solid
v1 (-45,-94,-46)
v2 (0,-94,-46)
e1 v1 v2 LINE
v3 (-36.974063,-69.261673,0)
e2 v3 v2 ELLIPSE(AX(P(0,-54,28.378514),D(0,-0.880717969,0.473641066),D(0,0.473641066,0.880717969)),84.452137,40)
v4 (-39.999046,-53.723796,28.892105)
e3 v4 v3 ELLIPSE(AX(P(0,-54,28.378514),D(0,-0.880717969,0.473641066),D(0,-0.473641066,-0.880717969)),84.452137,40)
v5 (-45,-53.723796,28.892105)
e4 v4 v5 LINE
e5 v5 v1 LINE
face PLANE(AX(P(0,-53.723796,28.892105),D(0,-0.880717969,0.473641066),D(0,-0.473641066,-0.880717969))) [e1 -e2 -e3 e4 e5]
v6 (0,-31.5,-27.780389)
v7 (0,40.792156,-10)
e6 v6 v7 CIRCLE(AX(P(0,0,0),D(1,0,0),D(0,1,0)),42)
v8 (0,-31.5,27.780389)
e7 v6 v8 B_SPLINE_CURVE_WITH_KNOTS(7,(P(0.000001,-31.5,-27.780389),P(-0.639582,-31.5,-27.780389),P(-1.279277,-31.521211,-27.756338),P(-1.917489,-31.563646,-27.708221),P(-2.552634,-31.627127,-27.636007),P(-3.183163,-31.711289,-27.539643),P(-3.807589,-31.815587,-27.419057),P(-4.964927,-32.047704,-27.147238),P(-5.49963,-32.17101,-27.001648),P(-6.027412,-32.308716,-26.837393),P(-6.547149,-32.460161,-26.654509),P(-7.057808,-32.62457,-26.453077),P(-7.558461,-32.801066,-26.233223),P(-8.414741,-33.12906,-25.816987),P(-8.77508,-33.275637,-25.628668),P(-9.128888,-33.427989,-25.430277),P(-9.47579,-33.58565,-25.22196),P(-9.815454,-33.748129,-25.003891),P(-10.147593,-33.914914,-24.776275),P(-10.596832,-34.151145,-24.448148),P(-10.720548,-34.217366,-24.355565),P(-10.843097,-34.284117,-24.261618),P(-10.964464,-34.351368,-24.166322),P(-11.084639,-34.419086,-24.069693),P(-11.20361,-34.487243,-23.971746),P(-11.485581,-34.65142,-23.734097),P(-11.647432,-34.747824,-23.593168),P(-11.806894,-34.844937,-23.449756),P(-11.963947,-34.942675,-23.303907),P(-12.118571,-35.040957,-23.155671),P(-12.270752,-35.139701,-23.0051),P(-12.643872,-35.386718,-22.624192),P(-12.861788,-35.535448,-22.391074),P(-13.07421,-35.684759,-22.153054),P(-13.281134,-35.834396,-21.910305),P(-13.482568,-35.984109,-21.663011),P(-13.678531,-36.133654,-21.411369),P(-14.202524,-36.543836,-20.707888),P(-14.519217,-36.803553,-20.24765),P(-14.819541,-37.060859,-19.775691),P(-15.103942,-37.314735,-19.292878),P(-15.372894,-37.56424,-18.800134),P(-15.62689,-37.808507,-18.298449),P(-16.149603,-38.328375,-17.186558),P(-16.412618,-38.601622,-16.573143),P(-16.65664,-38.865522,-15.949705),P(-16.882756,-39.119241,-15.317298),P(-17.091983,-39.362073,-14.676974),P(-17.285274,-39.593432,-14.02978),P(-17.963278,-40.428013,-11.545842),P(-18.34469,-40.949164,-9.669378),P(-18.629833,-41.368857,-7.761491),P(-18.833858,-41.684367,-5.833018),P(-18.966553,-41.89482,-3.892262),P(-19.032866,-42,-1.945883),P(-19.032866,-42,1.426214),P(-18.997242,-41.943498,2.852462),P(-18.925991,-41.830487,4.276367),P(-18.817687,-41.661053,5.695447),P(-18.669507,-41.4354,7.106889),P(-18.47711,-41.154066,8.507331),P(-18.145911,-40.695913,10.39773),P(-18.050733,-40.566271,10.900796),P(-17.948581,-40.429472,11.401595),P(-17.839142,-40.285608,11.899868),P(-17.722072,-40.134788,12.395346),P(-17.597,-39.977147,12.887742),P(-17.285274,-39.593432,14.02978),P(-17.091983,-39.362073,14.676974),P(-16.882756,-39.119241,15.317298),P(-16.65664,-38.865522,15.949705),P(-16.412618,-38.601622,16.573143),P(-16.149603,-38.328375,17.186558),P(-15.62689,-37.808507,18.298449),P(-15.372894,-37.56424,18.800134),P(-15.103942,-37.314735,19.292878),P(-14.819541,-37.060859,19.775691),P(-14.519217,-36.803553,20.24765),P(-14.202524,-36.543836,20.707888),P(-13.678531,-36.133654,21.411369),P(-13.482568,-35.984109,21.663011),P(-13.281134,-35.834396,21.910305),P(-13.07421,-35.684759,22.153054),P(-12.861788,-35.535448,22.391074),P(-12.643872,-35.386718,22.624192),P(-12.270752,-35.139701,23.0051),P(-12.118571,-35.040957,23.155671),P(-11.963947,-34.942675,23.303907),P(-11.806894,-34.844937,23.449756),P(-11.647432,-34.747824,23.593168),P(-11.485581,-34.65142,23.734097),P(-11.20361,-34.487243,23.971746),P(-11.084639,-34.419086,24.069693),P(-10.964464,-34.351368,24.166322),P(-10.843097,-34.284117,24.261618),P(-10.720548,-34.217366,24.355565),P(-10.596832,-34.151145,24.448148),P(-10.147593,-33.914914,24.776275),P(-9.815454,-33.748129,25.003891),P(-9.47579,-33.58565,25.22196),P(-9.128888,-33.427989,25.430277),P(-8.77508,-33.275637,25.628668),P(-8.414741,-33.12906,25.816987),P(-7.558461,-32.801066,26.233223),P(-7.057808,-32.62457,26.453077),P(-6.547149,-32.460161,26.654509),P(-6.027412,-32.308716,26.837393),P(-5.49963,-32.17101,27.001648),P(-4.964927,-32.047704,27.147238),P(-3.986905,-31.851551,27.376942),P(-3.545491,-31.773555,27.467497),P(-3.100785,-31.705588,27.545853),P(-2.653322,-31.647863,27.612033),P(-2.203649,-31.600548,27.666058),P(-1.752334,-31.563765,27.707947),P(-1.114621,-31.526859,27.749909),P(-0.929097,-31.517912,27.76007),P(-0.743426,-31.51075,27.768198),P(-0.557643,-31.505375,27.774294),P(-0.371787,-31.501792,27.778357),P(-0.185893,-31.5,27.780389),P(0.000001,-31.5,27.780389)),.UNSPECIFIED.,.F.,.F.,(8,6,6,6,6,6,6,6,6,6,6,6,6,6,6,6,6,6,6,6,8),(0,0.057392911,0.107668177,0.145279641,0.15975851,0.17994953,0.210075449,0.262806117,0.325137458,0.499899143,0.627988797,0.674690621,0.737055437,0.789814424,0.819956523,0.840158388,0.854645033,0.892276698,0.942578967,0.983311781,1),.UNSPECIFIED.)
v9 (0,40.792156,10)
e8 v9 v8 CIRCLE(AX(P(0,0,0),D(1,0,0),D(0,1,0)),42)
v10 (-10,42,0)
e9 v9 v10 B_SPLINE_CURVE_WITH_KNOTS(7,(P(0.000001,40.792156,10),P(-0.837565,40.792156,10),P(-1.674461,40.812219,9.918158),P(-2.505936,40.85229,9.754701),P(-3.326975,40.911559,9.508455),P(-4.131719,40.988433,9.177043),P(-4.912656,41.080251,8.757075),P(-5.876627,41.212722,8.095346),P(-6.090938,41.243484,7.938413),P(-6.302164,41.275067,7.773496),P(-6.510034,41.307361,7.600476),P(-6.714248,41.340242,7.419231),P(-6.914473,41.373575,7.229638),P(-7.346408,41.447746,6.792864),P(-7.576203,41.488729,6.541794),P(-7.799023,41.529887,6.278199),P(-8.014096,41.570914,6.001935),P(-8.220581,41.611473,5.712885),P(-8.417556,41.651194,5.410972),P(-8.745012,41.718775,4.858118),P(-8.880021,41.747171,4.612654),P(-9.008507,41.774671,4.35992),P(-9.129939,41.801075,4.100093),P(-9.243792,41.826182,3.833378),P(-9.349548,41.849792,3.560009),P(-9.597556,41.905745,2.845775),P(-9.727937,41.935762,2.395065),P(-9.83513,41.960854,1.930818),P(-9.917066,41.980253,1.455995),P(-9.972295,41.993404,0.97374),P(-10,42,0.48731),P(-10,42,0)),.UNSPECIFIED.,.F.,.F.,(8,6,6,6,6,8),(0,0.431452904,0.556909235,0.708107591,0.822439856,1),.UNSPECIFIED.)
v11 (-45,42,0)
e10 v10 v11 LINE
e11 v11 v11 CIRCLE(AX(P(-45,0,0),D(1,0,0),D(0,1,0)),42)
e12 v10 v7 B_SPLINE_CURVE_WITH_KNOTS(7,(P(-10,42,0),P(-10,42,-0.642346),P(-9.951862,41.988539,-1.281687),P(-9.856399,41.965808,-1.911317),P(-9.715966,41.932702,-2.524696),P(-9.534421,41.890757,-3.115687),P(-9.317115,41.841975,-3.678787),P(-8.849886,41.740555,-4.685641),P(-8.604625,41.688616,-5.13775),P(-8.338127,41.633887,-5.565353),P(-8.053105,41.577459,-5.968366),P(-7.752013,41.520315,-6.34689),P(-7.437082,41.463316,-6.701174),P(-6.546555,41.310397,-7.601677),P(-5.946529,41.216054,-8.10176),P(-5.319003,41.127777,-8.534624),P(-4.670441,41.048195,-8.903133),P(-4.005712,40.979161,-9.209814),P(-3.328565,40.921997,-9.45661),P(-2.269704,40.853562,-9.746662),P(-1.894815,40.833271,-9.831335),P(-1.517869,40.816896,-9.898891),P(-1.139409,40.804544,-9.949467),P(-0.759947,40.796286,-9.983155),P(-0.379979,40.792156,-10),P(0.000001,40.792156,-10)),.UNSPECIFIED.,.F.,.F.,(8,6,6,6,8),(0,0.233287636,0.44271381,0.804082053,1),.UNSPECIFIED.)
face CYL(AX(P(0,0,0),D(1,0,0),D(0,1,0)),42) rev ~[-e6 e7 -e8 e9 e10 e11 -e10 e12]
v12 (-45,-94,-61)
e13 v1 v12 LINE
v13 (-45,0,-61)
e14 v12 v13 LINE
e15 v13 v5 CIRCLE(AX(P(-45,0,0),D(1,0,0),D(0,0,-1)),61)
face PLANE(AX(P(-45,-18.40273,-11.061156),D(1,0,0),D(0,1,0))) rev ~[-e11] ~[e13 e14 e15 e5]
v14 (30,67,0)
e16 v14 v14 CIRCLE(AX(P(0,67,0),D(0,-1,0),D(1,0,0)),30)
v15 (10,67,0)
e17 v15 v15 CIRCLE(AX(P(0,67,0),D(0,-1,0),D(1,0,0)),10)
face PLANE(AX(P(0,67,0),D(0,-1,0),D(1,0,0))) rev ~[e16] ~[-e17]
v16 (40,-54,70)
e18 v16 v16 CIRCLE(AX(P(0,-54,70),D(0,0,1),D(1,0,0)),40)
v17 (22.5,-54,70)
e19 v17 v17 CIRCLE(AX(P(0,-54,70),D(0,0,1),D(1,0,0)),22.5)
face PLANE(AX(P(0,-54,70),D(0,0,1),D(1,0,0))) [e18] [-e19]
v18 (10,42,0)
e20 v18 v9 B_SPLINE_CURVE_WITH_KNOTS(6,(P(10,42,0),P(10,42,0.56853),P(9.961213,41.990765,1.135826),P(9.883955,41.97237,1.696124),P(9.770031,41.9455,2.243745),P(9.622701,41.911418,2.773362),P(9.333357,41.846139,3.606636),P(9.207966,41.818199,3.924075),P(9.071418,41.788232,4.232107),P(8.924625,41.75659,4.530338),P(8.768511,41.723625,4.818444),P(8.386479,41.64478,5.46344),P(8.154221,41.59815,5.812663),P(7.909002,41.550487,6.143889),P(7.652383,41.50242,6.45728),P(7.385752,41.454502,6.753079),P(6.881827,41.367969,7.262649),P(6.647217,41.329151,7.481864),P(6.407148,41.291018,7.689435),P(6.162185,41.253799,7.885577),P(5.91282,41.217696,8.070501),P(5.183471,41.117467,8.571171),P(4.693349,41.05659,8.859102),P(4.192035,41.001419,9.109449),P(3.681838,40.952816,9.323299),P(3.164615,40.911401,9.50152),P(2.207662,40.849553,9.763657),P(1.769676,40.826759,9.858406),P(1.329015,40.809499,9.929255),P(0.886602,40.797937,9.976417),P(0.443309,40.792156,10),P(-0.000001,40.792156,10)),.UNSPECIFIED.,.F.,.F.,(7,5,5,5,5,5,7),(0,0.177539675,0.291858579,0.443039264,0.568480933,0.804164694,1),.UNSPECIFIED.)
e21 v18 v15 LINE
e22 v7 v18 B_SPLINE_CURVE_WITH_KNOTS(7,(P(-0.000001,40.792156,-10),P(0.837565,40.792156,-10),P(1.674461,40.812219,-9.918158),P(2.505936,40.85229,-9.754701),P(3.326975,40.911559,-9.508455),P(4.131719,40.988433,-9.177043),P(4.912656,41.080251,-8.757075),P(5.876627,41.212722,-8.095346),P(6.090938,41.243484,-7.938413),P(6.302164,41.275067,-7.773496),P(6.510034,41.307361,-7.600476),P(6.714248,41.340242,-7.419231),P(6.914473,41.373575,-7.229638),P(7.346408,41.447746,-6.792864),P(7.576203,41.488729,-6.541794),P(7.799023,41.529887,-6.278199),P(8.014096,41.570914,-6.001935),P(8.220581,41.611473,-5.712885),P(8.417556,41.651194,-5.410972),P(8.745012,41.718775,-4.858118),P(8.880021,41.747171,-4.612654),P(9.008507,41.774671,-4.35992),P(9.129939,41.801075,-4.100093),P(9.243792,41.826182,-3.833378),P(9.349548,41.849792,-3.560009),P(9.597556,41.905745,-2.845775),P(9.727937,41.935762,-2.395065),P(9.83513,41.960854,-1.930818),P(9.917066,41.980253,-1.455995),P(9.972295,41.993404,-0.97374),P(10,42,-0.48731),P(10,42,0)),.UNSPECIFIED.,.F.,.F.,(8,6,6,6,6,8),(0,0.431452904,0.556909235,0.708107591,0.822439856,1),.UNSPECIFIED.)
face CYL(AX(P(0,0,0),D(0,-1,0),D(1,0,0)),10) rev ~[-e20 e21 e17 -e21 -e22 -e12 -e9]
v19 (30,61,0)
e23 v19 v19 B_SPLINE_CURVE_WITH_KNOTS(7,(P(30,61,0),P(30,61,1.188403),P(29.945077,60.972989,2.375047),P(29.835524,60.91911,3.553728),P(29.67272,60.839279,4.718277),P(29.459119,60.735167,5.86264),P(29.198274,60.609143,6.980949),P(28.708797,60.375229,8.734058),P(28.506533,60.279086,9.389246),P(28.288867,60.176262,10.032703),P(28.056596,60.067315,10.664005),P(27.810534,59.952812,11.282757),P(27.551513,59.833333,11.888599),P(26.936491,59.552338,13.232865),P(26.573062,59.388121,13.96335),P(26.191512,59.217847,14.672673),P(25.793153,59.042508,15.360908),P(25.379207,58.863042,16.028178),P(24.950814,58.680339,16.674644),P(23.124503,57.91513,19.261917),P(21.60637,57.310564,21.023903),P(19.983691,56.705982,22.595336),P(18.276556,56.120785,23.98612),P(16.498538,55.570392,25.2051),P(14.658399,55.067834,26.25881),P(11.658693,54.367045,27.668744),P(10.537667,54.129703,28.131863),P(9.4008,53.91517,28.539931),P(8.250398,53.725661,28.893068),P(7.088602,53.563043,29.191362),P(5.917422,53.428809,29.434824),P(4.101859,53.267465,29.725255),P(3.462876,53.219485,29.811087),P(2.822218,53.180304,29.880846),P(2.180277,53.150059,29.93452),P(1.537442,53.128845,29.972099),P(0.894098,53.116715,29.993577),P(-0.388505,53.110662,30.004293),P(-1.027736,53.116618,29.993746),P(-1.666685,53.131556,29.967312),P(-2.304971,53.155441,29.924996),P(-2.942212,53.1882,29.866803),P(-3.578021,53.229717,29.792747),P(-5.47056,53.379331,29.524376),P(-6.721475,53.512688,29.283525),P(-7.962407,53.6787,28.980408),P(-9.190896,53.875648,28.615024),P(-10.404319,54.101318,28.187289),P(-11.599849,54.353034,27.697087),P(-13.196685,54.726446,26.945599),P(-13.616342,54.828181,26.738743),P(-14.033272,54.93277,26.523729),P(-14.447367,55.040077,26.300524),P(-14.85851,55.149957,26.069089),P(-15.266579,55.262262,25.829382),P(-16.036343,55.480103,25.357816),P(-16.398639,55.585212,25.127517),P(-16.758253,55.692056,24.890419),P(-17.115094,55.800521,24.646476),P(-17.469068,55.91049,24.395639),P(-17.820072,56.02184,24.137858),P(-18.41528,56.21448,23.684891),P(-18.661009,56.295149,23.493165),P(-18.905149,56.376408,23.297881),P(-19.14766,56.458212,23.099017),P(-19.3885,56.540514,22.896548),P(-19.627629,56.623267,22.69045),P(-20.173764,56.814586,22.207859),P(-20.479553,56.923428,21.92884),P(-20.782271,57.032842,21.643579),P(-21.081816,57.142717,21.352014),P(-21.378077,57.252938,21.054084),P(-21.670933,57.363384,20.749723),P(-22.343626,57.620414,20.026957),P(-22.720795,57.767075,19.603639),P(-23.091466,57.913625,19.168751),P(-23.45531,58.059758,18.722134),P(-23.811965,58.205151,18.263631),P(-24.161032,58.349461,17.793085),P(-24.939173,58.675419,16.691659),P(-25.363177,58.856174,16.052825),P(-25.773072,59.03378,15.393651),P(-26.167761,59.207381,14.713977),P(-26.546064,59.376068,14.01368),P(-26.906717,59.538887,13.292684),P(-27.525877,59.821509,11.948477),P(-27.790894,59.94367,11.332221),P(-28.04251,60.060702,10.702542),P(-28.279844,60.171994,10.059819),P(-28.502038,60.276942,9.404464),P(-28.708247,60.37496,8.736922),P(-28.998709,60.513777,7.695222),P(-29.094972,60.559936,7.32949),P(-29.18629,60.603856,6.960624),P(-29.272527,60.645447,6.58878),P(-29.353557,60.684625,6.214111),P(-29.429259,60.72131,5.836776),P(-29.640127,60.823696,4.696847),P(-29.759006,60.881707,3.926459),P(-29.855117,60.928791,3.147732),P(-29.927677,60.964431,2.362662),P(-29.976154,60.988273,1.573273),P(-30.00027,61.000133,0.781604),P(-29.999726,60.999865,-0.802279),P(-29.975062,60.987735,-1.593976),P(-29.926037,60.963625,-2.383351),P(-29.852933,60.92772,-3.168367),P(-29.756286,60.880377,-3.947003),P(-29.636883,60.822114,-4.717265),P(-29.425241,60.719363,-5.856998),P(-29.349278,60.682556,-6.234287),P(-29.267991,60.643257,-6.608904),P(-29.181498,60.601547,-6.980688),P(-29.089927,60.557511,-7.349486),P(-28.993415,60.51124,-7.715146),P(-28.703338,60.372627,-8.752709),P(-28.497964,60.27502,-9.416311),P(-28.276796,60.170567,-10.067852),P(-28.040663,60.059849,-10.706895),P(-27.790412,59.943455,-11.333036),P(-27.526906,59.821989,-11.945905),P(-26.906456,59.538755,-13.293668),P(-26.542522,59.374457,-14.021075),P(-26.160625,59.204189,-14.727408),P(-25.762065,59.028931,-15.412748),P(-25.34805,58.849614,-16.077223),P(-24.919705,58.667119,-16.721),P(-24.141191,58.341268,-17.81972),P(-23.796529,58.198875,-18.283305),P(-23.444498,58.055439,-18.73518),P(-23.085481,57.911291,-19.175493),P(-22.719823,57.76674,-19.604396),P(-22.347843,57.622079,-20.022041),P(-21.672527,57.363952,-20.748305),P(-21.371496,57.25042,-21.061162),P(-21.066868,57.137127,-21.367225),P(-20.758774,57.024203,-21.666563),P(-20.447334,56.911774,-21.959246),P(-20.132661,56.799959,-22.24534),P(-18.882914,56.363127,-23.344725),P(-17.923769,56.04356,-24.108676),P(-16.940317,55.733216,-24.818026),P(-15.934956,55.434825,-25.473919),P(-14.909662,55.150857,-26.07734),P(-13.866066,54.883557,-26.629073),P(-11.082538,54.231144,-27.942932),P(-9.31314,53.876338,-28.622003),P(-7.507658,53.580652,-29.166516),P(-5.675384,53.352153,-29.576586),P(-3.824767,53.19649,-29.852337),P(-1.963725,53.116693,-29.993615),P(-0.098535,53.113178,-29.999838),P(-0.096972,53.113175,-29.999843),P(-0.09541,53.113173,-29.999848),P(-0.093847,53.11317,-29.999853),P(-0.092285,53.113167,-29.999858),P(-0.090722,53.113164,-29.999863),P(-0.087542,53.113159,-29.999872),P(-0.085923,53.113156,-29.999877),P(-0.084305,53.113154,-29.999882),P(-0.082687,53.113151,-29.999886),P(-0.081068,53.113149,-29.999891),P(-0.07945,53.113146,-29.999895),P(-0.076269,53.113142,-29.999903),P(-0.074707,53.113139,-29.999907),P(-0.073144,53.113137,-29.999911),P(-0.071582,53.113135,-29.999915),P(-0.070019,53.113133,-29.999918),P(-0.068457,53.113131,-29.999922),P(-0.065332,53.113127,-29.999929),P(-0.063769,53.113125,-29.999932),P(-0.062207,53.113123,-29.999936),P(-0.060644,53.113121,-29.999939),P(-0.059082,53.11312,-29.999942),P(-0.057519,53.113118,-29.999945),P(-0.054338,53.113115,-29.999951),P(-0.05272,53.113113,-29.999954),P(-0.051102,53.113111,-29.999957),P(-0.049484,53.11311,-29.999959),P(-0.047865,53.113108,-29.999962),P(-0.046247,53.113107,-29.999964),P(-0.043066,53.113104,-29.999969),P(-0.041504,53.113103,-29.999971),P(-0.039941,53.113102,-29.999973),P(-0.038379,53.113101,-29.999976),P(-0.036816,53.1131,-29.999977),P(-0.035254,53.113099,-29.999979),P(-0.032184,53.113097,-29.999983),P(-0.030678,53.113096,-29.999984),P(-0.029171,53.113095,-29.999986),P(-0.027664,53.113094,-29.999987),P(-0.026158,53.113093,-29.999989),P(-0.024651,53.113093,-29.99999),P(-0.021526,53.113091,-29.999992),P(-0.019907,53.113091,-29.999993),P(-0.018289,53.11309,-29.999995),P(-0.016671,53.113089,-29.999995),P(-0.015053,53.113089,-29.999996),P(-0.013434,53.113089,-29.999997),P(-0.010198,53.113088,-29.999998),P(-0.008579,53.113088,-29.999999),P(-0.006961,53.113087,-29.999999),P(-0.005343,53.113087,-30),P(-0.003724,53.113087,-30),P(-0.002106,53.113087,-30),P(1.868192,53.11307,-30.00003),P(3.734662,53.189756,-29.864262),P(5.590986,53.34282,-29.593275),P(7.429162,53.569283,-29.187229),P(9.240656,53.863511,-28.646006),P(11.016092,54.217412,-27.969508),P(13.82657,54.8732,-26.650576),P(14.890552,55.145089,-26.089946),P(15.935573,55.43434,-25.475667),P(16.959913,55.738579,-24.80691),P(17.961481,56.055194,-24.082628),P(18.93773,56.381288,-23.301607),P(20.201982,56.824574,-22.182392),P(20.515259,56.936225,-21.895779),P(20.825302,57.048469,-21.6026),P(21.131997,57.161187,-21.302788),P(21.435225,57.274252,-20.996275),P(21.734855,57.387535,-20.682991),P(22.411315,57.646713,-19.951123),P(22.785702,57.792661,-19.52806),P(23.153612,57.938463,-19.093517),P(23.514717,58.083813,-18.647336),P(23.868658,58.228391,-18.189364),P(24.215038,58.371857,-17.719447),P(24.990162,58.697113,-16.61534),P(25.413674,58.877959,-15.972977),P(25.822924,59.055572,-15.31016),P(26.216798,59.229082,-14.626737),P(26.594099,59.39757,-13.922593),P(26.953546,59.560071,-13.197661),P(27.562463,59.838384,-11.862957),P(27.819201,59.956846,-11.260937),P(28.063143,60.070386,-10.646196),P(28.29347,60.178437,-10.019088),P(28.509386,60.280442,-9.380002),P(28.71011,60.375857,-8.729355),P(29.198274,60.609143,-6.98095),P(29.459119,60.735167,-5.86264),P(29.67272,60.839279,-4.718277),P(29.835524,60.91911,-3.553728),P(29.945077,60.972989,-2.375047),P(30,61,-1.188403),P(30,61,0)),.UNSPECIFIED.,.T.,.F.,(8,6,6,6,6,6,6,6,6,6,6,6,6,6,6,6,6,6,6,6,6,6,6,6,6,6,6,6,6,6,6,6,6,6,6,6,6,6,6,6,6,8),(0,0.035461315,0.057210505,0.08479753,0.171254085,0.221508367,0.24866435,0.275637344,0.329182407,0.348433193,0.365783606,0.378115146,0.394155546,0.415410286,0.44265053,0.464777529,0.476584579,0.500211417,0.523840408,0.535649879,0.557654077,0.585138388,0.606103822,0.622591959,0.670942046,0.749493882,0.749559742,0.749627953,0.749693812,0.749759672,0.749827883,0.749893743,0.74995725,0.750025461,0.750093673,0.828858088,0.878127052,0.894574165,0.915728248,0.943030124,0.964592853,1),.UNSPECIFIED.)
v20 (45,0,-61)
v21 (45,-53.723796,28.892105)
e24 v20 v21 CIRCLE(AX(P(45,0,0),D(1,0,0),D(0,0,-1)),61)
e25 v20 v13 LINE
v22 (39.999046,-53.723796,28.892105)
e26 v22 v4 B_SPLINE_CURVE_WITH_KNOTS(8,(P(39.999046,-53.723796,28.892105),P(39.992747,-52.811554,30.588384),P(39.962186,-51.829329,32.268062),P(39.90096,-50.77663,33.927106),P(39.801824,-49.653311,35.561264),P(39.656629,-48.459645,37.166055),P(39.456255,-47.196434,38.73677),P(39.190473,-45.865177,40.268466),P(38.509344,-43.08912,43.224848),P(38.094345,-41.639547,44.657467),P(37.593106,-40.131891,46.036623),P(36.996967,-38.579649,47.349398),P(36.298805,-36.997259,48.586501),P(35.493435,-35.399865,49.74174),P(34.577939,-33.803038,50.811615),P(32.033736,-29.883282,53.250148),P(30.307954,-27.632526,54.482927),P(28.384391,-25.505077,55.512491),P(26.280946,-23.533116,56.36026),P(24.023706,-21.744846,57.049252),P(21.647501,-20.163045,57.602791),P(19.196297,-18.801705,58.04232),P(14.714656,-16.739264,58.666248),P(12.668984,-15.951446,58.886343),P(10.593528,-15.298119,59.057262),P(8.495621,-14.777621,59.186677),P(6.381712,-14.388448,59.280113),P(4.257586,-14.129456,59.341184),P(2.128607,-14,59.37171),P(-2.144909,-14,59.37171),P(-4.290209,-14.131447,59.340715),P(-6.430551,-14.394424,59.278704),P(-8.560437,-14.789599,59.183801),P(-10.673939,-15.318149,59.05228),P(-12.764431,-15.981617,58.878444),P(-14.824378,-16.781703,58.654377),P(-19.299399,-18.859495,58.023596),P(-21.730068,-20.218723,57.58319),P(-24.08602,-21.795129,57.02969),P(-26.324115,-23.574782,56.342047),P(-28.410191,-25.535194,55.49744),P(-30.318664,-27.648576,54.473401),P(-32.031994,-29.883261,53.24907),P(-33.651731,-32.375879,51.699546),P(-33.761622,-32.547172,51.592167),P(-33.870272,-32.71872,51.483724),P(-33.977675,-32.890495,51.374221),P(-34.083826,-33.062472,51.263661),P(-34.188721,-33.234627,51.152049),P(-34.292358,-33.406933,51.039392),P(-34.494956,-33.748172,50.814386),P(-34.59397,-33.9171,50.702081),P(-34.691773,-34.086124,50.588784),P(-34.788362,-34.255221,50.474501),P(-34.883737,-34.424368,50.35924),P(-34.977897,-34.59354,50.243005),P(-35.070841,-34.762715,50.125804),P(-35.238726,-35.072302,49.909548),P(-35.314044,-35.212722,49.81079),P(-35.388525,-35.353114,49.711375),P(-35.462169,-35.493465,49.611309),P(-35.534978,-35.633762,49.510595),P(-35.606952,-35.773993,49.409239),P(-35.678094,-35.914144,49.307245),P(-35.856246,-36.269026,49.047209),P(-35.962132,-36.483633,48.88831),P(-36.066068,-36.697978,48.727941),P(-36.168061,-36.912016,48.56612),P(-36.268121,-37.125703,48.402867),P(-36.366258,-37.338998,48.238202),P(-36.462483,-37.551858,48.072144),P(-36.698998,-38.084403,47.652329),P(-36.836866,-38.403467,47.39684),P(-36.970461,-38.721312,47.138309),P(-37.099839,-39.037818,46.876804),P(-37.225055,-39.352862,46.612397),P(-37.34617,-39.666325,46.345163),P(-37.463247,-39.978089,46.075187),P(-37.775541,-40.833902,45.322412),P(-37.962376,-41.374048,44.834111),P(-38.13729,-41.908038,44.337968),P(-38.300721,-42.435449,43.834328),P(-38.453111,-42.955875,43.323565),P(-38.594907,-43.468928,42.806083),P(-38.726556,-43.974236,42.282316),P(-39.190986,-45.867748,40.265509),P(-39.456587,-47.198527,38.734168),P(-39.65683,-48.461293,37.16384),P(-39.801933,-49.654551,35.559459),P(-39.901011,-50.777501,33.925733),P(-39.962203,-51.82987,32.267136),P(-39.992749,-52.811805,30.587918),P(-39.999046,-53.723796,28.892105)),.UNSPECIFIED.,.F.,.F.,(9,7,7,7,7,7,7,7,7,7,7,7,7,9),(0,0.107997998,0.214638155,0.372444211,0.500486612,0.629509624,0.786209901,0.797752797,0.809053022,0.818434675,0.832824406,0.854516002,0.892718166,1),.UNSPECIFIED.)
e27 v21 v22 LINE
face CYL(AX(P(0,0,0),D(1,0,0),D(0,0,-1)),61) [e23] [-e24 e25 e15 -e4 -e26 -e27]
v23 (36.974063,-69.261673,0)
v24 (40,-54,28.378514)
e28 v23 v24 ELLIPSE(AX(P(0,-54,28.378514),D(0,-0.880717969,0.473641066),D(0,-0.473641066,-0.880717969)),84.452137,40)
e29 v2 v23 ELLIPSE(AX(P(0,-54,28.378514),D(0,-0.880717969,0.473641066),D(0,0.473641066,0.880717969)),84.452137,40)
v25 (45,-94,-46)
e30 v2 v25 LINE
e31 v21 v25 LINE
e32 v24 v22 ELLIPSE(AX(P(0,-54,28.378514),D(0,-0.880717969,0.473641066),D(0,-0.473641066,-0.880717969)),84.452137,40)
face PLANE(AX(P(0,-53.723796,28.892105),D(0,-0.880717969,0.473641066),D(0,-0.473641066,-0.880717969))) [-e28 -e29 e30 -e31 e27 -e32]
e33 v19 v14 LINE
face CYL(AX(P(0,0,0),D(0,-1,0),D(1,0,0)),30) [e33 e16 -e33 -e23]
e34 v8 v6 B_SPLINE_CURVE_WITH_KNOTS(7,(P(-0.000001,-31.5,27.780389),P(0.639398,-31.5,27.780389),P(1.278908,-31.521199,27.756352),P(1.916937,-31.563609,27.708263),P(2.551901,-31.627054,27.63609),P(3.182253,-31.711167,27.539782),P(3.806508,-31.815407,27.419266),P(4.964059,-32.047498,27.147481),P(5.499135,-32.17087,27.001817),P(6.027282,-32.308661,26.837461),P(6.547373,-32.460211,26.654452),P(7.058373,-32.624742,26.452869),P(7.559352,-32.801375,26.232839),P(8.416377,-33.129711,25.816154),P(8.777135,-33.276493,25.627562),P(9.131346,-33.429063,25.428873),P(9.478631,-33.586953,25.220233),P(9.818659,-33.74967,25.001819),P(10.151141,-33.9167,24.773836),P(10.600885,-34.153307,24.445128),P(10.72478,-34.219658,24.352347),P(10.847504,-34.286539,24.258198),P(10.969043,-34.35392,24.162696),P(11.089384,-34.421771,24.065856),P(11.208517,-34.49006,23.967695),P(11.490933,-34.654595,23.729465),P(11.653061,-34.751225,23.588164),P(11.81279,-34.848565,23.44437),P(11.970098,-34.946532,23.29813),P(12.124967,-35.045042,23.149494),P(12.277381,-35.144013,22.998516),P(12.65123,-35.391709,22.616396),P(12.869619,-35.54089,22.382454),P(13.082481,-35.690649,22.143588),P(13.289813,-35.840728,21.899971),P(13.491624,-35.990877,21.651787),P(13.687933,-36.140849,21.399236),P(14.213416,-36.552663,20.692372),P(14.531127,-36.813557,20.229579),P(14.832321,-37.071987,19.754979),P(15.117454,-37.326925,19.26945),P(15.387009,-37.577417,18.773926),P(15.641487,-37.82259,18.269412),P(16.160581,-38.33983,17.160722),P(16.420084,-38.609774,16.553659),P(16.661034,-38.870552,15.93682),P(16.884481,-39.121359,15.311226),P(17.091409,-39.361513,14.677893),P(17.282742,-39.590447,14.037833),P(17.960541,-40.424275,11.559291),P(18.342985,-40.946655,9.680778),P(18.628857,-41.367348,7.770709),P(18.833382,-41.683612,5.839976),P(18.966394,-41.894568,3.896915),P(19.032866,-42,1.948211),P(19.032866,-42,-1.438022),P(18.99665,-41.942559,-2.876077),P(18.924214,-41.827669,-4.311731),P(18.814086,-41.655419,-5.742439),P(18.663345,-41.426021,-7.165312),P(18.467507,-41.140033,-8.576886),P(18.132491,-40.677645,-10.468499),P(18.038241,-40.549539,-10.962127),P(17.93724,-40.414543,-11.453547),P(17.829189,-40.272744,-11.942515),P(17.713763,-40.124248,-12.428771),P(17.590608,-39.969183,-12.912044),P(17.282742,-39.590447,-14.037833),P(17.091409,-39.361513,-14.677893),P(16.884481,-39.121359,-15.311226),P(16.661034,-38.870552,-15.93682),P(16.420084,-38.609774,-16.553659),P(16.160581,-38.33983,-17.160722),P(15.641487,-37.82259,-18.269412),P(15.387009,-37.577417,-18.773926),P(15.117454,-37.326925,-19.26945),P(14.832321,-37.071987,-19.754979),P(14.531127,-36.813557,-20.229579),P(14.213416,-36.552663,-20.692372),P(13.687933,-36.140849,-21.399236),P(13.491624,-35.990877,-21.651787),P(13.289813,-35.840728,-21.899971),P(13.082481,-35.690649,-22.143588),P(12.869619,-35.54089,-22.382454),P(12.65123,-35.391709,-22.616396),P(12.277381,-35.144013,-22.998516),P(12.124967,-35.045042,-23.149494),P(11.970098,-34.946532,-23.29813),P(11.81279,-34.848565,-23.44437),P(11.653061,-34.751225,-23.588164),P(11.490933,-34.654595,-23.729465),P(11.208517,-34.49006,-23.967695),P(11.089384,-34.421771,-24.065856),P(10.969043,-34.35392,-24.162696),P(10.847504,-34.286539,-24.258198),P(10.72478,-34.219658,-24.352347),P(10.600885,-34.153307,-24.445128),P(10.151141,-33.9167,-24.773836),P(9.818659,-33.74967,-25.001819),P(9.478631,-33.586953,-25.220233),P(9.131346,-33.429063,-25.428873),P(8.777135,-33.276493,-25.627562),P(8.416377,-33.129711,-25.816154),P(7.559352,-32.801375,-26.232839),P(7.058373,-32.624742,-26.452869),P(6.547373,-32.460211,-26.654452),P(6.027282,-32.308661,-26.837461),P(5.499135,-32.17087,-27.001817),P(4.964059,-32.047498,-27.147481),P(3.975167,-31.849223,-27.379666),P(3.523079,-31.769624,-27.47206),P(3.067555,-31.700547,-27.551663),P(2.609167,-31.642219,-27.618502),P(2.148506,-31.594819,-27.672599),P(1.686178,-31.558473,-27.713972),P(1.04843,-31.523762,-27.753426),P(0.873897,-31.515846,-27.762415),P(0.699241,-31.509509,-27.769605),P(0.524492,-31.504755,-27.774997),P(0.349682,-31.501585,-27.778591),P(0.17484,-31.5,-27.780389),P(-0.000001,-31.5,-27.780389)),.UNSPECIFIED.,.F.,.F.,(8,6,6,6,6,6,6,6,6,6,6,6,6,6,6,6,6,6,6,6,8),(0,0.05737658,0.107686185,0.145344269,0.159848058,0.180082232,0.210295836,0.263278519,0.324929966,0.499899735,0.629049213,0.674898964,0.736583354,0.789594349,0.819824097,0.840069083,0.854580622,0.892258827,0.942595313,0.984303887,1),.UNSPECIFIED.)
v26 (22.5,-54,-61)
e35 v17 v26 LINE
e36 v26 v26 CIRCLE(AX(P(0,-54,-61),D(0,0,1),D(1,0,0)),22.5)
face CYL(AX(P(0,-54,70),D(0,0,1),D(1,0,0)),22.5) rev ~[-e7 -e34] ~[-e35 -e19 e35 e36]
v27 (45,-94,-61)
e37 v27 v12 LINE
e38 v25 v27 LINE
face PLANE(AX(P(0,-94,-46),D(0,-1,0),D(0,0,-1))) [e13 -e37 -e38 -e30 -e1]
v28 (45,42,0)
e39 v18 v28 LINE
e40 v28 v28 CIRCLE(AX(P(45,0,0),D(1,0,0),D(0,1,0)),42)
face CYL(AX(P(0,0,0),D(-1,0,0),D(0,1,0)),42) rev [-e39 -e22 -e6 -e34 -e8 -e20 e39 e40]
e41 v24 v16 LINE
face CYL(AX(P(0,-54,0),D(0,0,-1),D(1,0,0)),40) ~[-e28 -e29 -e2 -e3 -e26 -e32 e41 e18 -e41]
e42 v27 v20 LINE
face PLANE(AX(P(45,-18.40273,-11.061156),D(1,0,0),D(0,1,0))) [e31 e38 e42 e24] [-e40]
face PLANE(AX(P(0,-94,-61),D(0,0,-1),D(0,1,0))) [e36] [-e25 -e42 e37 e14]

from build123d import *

# Parameters (mm, degrees)
F1_DEPTH       = 45
F2_R           = 40
F3_DEPTH       = 70
F3_DEPTH_BACK  = 61
F4_R           = 30
F5_DEPTH       = 67
F6_R           = 22.5
F9_DEPTH       = 131.0010001
F7_R           = 42
F10_DEPTH      = 45
F10_DEPTH_BACK = 45
F8_R           = 10
F11_DEPTH      = 67.0010001


with BuildPart() as f1:
    # F0 (on Right) → F1 (new body, symmetric)
    with BuildSketch(Plane.YZ):
        with BuildLine():
            Line((-53.7237960867, 28.8921050468), (-94, -46))
            Line((-94, -46), (-94, -61))
            Line((-94, -61), (0, -61))
            ThreePointArc((0, -61), (52.3613330992, 31.2936222907), (-53.7237960867, 28.8921050468))
        make_face()
    extrude(amount=F1_DEPTH, both=True)

    # F2 (on Top) → F3 (join, two sides)
    with BuildSketch(Plane.XY) as f3_sk:
        with Locations((0, -54)):
            Circle(F2_R)
    extrude(amount=F3_DEPTH)
    extrude(f3_sk.sketch, amount=-F3_DEPTH_BACK)

    # F4 (on Front) → F5 (join)
    with BuildSketch(Plane.XZ):
        Circle(F4_R)
    extrude(amount=-F5_DEPTH)

    # F6 (on face) → F9 (cut, through all)
    with BuildSketch(Plane.XY.offset(70)):
        with Locations((0, -54)):
            Circle(F6_R)
    extrude(amount=-F9_DEPTH, mode=Mode.SUBTRACT)

    # F7 (on Right) → F10 (cut, two sides)
    with BuildSketch(Plane.YZ) as f10_sk:
        Circle(F7_R)
    extrude(amount=-F10_DEPTH, mode=Mode.SUBTRACT)
    extrude(f10_sk.sketch, amount=F10_DEPTH_BACK, mode=Mode.SUBTRACT)

    # F8 (on Front) → F11 (cut, through all)
    with BuildSketch(Plane.XZ):
        Circle(F8_R)
    extrude(amount=-F11_DEPTH, mode=Mode.SUBTRACT)


solid = f1.part
